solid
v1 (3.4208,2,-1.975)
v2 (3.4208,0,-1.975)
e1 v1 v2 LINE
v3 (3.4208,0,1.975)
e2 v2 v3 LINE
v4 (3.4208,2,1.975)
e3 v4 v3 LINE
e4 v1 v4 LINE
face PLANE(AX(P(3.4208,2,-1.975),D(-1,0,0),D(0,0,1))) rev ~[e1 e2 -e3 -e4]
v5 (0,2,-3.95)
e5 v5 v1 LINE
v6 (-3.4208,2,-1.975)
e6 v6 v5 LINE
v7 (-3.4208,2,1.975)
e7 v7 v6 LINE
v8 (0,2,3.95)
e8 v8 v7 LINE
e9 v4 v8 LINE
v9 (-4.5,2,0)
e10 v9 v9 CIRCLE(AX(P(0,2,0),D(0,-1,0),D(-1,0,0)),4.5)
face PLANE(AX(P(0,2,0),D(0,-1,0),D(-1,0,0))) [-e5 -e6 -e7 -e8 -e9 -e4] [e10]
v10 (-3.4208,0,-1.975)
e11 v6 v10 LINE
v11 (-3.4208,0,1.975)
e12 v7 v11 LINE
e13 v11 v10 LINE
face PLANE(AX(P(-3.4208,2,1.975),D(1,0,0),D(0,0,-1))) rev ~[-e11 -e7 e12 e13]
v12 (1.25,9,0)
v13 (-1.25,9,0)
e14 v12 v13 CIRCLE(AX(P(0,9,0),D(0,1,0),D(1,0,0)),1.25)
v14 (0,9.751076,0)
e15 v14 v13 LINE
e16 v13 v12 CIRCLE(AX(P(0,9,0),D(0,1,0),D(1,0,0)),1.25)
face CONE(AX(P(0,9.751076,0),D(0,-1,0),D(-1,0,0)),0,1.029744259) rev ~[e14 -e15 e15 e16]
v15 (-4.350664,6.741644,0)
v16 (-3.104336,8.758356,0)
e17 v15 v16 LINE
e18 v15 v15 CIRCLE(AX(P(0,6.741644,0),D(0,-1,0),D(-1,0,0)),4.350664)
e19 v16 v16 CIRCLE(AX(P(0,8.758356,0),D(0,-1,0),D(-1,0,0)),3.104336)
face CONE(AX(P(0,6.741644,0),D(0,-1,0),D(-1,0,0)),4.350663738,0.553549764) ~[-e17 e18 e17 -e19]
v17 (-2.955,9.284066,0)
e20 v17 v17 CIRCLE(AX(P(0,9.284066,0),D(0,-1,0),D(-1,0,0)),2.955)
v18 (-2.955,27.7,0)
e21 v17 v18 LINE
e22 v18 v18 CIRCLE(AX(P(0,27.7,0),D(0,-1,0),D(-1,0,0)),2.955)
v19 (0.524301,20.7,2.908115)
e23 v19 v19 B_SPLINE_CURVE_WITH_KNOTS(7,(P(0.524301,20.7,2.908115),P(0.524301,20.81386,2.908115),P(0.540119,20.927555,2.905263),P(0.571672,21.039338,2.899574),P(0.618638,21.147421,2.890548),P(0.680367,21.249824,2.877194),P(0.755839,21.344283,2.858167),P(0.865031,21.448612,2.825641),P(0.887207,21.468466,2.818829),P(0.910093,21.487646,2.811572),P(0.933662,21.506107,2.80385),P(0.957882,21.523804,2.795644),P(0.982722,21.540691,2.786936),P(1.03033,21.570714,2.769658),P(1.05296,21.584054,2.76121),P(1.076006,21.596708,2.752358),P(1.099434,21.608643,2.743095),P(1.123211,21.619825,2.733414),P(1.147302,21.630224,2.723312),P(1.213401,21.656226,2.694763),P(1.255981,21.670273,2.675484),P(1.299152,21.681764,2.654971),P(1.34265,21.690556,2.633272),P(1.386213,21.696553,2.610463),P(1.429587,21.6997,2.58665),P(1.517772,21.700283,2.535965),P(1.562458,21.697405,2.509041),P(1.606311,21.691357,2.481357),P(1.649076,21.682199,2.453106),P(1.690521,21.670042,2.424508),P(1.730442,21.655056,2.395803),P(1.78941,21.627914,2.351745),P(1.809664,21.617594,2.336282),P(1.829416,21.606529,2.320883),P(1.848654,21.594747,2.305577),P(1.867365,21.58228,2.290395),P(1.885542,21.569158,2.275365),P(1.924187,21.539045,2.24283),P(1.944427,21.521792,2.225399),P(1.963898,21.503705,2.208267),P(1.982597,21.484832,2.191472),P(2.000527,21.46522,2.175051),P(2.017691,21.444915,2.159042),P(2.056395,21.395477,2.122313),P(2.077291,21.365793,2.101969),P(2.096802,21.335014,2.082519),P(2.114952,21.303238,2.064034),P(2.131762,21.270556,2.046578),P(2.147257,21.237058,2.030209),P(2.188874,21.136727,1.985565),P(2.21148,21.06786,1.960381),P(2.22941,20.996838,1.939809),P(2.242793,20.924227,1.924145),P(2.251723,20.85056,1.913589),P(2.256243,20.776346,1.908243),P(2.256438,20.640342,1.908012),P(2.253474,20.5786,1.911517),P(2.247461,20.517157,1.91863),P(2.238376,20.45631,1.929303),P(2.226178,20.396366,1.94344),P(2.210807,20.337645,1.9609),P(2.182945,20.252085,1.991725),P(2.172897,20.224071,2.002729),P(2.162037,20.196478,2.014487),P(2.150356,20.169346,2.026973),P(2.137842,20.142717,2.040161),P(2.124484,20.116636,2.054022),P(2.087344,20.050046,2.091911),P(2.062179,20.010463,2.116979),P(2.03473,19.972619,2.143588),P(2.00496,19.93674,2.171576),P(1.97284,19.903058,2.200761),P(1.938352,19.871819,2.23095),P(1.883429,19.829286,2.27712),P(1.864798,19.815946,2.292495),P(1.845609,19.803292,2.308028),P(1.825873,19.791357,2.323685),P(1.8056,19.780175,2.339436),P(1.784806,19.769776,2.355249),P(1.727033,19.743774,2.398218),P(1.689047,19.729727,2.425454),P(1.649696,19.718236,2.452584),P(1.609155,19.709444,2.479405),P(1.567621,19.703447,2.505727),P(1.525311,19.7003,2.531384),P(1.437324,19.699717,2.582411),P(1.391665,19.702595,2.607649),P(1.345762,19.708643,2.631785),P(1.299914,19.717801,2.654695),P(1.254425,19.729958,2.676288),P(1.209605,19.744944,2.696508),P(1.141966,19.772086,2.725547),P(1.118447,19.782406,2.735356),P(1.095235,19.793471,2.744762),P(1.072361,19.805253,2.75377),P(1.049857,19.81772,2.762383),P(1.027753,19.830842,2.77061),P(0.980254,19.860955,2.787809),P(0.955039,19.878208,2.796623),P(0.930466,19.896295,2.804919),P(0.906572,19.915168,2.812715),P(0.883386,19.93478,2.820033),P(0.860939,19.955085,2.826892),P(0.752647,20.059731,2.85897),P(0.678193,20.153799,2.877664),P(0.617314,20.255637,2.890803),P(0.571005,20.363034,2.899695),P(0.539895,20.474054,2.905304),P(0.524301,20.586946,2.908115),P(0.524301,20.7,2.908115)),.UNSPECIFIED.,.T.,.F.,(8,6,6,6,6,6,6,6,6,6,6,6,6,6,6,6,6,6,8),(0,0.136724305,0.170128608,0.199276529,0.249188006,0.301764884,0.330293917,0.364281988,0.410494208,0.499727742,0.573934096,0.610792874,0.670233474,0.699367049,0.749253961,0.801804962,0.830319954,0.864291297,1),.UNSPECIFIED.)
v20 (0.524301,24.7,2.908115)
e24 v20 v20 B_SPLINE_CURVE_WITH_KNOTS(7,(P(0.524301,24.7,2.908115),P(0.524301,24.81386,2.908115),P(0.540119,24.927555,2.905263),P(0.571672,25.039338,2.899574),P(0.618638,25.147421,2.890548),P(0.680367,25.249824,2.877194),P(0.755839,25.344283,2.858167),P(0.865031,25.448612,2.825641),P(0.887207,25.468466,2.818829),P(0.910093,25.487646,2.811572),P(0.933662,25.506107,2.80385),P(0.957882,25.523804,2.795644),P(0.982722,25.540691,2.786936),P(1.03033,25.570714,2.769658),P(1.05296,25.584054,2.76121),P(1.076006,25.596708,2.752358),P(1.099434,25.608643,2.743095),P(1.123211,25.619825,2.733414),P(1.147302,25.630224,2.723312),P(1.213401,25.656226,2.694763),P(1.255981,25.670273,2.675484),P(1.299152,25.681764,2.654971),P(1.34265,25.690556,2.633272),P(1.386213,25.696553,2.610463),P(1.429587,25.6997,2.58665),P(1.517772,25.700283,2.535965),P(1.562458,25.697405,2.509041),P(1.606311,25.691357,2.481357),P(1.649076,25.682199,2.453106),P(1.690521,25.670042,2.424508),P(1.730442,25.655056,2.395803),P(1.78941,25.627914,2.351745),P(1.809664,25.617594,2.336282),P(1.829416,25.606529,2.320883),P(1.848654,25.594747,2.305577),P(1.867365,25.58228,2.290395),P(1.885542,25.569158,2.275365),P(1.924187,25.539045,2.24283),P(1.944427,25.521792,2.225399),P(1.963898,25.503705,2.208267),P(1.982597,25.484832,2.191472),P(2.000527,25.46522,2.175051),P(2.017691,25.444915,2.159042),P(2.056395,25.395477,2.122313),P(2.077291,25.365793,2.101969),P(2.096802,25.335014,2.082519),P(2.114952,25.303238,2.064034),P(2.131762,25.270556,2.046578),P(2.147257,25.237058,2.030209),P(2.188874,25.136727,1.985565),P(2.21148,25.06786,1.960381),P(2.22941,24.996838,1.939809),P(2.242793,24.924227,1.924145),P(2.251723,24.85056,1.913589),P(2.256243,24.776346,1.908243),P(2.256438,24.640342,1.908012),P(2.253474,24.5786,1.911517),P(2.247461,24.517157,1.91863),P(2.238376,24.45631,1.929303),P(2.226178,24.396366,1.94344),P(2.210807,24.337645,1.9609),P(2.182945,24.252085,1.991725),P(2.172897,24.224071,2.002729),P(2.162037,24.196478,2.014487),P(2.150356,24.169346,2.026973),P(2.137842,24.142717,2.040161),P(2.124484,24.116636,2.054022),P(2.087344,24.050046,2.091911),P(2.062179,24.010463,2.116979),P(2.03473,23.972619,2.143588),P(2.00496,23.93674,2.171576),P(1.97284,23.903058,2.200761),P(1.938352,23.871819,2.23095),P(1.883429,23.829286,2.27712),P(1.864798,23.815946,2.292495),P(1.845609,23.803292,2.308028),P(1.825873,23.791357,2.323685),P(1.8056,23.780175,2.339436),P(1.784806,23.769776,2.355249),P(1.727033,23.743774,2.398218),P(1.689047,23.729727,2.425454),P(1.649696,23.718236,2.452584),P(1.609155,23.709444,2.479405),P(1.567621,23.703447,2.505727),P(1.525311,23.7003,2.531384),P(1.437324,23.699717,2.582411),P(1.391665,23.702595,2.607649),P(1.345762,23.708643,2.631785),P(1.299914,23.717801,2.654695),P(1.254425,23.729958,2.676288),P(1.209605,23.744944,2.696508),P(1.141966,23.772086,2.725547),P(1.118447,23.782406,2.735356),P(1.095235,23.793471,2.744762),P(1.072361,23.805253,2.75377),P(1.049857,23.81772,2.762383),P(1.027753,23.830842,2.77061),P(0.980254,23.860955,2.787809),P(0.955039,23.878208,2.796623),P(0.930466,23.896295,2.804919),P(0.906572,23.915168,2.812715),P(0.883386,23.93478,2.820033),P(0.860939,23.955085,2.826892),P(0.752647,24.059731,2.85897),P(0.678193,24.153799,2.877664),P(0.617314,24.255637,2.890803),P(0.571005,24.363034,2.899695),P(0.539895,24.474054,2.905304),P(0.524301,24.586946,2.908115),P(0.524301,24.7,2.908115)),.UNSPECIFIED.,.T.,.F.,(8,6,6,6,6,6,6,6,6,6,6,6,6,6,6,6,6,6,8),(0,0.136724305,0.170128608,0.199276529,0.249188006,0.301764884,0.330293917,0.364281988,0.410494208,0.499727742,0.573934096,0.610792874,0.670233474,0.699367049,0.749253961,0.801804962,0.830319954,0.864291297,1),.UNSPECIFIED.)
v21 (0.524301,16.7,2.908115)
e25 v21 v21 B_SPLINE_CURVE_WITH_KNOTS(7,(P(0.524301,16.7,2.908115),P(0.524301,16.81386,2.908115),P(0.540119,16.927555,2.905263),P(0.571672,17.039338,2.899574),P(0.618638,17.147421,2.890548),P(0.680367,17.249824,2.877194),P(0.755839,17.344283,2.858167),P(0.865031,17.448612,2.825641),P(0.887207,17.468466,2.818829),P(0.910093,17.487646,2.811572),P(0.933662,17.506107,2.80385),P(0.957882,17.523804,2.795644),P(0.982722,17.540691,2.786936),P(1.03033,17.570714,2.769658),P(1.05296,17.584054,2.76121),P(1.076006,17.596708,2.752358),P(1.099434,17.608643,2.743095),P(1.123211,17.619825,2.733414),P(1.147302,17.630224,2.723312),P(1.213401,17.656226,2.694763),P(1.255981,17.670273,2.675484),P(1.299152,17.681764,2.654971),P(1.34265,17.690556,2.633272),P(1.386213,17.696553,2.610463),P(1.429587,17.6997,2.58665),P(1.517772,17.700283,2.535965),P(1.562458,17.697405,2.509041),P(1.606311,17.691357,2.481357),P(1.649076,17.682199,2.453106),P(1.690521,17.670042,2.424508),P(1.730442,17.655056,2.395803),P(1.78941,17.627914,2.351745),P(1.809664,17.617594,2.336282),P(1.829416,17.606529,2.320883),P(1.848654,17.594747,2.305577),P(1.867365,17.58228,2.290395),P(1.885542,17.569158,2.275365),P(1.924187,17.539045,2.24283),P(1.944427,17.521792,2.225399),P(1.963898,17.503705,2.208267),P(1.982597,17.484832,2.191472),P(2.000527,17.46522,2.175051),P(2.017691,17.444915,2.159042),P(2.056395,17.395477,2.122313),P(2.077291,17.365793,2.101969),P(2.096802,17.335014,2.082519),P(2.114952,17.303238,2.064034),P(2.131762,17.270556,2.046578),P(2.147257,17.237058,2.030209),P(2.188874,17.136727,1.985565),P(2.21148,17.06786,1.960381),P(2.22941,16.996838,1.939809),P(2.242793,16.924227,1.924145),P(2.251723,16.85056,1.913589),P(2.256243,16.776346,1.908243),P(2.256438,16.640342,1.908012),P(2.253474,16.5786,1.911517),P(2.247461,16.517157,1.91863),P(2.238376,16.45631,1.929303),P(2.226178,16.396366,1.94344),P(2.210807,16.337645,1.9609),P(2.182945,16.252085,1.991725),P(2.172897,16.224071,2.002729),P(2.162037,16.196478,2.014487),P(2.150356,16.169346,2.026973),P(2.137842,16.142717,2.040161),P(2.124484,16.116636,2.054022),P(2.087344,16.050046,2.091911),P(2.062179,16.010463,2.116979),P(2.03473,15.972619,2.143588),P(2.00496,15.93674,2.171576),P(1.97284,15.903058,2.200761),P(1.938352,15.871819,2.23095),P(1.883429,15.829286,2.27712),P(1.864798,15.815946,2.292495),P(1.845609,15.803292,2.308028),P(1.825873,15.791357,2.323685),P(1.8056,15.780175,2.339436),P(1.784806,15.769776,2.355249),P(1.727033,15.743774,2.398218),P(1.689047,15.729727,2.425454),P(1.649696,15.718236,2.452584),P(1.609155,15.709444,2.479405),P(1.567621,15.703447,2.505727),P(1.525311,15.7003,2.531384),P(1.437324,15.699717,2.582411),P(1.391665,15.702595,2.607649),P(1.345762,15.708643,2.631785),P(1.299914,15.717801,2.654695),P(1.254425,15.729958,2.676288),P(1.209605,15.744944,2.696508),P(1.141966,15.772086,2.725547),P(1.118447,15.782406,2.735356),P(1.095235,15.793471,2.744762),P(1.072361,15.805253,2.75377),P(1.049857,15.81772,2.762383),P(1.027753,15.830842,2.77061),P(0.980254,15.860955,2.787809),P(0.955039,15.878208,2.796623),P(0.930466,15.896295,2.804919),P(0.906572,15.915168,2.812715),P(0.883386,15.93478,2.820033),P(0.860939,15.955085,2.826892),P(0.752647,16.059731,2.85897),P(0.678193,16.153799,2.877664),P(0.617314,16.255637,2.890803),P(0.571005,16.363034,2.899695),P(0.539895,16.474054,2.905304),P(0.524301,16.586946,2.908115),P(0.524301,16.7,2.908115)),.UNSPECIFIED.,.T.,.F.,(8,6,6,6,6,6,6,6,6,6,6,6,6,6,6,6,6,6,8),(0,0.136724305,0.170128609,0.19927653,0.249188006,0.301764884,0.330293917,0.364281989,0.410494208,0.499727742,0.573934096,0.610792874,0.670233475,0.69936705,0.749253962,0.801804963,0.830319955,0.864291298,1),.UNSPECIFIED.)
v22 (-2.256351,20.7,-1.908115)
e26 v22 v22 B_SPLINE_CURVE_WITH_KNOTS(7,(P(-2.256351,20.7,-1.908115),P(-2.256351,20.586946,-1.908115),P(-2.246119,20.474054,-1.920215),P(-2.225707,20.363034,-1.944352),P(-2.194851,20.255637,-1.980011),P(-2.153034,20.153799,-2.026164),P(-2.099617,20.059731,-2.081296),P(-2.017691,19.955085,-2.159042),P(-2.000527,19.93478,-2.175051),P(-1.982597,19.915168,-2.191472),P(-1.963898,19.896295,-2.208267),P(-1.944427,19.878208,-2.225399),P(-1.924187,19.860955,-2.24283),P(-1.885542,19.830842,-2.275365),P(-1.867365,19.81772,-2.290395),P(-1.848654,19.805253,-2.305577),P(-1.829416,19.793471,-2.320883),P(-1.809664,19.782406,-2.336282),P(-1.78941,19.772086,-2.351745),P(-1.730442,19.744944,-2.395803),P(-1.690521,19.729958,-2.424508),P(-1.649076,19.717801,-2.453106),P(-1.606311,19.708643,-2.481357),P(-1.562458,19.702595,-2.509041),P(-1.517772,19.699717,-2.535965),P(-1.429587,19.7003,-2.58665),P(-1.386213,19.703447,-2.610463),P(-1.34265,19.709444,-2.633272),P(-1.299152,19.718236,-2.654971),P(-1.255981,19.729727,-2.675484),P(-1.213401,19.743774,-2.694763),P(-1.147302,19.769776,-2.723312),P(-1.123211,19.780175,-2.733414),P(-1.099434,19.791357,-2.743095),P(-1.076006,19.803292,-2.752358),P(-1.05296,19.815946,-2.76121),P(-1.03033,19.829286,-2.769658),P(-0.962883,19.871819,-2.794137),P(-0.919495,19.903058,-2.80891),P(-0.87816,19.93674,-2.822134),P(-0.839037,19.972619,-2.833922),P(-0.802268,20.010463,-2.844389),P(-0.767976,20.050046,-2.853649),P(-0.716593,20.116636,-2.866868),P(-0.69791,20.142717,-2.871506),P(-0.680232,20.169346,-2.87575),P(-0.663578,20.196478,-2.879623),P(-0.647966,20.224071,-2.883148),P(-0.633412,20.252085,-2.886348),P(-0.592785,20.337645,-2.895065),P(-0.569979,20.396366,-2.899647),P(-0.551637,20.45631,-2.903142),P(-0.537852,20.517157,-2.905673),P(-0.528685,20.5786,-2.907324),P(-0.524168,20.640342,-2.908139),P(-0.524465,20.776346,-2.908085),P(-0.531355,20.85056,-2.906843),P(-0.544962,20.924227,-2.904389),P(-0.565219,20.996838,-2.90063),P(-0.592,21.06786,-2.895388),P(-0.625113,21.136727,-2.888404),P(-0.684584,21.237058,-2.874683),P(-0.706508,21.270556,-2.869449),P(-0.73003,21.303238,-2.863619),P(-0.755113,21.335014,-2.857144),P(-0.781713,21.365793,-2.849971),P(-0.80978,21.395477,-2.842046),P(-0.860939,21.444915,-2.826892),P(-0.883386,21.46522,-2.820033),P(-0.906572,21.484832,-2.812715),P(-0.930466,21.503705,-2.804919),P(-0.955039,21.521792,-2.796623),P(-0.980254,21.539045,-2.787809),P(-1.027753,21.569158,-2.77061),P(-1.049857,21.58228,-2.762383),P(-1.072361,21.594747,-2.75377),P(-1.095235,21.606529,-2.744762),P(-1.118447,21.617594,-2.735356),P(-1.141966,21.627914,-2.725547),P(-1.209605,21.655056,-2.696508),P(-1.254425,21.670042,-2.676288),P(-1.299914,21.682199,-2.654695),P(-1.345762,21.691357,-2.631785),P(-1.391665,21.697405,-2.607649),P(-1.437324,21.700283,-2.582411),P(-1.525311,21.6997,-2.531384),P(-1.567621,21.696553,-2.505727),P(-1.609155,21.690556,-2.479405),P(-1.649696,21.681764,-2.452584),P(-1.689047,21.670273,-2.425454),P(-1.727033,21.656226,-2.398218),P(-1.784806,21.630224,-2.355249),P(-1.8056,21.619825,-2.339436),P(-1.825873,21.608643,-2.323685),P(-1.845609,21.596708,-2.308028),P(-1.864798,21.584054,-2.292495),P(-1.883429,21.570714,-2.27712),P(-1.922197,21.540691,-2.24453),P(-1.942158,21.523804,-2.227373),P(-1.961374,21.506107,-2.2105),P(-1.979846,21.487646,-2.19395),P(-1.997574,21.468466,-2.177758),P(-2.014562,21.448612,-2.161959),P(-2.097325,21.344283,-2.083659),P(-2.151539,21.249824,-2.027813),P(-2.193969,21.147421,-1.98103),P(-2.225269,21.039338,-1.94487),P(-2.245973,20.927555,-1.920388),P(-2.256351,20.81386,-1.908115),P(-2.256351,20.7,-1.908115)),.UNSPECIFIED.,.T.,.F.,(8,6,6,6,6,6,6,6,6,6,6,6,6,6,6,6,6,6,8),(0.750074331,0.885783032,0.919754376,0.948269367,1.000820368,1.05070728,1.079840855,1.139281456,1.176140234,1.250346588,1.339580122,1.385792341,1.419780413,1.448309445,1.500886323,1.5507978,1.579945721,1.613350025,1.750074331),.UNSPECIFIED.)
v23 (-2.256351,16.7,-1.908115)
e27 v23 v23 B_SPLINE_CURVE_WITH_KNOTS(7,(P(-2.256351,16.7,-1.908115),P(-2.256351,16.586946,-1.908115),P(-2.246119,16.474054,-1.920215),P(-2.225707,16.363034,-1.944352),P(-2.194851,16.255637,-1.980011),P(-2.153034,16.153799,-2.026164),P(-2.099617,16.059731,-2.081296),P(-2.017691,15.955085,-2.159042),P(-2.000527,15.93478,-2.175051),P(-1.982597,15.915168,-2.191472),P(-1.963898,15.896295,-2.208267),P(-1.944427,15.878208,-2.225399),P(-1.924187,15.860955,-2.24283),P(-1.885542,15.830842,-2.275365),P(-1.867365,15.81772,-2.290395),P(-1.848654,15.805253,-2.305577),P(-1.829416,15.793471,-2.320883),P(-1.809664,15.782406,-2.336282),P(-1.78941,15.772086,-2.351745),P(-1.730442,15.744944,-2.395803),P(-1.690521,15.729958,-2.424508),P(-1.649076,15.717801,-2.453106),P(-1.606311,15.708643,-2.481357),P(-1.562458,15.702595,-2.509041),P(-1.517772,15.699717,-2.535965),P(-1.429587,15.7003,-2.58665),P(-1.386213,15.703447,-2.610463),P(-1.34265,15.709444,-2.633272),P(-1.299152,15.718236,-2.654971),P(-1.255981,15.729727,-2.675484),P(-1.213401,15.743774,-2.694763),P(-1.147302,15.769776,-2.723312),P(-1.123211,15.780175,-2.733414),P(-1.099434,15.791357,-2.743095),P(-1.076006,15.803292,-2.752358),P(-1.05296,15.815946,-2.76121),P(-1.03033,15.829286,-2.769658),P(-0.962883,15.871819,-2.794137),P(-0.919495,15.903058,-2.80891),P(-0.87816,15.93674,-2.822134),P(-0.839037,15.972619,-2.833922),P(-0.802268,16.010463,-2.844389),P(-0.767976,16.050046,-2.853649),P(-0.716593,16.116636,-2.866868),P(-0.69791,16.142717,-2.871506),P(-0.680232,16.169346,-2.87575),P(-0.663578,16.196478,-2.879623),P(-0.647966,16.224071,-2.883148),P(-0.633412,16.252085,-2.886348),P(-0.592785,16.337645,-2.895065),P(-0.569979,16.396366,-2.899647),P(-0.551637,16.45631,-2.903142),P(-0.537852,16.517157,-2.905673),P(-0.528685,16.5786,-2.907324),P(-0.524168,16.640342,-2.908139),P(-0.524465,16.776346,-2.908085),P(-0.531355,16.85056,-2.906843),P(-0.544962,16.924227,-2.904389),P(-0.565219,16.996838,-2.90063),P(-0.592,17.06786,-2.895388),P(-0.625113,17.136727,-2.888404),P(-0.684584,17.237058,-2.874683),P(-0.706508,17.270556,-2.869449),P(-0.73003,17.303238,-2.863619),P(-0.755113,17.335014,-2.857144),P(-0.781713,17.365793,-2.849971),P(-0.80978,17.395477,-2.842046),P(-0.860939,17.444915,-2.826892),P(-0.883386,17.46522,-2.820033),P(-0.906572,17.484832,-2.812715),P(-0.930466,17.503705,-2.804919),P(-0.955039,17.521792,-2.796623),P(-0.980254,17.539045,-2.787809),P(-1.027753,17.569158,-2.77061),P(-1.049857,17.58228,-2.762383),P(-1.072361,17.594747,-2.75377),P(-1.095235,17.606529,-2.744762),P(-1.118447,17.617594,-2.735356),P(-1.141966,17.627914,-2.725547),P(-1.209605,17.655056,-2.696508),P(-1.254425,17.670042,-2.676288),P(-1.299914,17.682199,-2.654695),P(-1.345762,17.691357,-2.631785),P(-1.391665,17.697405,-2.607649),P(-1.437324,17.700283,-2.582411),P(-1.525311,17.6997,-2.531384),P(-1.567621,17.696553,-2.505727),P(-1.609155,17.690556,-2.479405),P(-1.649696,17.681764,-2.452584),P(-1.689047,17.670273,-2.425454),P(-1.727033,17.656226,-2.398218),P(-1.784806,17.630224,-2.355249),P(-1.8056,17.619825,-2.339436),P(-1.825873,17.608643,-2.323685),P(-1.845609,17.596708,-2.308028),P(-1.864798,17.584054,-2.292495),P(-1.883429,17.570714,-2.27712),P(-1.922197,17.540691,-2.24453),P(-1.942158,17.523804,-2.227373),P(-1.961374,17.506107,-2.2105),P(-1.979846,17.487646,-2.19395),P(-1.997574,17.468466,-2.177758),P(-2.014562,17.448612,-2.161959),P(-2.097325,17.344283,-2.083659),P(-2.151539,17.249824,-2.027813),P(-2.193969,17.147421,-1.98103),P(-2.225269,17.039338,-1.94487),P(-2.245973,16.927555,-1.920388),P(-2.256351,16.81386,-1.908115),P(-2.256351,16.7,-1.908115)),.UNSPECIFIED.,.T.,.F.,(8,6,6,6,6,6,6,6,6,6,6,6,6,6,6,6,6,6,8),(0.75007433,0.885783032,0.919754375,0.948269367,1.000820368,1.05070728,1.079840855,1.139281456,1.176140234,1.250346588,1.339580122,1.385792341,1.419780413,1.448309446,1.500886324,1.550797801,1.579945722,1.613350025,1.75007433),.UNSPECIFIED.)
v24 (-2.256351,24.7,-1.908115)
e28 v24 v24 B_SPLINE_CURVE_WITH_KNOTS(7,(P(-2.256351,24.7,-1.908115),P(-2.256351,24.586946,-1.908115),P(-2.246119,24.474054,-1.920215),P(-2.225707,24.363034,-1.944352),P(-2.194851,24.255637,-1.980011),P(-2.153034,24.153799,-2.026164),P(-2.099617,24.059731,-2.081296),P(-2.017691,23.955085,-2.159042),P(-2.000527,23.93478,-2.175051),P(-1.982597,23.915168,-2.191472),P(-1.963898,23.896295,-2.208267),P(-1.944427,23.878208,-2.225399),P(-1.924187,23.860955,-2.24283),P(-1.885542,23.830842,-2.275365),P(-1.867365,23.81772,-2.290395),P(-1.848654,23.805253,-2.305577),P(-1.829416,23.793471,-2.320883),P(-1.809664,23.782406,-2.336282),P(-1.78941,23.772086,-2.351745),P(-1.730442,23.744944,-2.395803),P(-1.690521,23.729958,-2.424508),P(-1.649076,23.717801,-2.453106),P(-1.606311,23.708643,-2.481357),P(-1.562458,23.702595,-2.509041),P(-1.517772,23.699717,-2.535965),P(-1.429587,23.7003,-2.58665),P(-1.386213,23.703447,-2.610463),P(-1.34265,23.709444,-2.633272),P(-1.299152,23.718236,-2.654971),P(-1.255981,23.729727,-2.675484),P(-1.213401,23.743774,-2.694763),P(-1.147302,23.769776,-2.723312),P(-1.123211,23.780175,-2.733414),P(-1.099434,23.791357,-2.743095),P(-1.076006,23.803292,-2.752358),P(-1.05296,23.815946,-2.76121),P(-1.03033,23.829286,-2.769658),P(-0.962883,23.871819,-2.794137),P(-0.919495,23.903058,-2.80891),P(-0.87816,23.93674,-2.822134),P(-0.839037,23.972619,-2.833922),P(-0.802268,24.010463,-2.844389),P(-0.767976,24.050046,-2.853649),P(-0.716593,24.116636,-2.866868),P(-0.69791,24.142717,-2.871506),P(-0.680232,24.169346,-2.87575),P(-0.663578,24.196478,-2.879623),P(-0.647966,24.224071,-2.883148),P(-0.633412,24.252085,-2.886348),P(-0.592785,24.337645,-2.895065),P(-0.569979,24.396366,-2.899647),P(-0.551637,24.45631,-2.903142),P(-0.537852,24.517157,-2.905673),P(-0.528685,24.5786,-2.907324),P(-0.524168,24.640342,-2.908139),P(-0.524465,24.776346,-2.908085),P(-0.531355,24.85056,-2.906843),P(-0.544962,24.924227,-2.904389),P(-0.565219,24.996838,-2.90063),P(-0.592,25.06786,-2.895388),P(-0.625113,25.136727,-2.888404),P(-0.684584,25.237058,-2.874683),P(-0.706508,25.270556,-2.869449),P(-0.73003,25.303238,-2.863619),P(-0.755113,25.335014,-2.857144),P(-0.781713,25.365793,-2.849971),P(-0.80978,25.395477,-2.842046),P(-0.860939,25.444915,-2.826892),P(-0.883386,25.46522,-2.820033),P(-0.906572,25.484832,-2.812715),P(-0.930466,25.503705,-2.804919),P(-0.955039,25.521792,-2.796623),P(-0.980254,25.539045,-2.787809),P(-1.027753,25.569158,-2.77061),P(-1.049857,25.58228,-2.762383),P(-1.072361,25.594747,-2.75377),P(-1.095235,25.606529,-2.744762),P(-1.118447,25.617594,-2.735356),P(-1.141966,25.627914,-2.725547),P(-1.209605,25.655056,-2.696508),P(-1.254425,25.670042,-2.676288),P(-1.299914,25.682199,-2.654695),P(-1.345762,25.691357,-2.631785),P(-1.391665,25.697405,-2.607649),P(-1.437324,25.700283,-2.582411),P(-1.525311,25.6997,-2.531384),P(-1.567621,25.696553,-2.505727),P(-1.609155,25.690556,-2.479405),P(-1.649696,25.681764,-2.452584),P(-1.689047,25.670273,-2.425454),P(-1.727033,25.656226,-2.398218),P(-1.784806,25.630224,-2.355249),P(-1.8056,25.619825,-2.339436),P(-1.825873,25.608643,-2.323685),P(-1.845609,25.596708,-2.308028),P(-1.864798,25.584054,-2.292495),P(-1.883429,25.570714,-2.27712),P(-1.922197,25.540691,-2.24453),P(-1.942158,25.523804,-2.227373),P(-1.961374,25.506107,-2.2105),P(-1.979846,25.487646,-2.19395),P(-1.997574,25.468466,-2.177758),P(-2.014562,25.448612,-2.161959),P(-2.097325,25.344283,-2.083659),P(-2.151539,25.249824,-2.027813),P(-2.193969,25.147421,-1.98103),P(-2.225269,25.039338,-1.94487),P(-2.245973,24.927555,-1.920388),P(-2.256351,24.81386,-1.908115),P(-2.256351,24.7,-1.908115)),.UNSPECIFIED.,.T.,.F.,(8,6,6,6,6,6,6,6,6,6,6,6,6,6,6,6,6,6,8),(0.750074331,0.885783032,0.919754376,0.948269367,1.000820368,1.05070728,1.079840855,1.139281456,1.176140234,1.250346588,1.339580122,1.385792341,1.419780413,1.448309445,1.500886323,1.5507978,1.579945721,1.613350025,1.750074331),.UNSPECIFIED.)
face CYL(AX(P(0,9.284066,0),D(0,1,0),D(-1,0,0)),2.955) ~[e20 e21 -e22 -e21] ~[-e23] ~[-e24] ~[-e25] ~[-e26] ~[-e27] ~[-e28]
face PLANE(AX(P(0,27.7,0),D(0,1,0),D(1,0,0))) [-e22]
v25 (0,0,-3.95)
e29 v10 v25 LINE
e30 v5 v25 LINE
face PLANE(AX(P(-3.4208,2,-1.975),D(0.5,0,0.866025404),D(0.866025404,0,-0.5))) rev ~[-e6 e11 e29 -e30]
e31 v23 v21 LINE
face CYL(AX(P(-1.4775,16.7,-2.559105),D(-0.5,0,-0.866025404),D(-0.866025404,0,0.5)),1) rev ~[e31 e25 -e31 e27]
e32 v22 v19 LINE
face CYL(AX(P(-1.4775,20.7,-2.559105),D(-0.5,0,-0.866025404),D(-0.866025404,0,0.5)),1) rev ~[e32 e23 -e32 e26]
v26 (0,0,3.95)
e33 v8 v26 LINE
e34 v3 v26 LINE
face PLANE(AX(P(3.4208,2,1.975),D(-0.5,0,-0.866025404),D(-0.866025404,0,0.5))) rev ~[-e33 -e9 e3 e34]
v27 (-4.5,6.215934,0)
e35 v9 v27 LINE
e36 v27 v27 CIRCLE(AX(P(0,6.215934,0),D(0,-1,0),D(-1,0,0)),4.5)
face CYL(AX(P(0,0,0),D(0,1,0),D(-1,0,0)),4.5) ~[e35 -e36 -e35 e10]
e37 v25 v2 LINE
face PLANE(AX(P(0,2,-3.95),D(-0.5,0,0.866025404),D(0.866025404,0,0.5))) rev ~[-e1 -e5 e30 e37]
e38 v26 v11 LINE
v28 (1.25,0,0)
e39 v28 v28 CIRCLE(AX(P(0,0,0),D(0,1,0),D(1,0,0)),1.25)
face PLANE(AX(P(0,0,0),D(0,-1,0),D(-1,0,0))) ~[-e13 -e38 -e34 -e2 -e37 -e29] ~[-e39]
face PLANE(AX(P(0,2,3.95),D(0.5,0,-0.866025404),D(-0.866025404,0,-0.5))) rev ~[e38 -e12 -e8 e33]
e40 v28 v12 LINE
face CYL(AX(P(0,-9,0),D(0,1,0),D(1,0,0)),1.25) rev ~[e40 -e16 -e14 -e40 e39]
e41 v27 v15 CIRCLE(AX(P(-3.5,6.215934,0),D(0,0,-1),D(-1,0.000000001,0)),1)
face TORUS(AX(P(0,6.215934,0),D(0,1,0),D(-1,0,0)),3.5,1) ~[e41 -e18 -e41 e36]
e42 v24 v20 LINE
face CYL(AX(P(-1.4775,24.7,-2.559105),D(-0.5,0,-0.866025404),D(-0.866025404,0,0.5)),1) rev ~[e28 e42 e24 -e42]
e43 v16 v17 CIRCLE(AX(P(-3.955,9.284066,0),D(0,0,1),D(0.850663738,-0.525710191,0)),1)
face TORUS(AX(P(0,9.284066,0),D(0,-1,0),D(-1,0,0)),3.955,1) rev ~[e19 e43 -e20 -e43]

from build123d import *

# Parameters (mm, degrees)
TAGLIO_ESTRUSIONE1_START      = -2
SCHIZZO2_R                    = 4.5
TAGLIO_ESTRUSIONE1_DEPTH      = 2
FORO_FILETTATO_M3X0_5_1_D     = 2.5
FORO_FILETTATO_M3X0_5_1_DEPTH = 9
FORO_FILETTATO_M3X0_5_1_TIP   = 0.751075774
SCHIZZO5_R                    = 1
TAGLIO_ESTRUSIONE2_DEPTH      = 34.021984674


with BuildPart() as part:
    # Schizzo1 → Rivoluzione1 (revolve)
    with BuildSketch(Plane.XY, mode=Mode.PRIVATE) as rivoluzione1_sk:
        with BuildLine():
            Line((0, 0), (4.5, 0))
            Line((4.5, 0), (4.5, 6.215934246))
            ThreePointArc((4.5, 6.215934246), (4.461941718, 6.489188945), (4.350663738, 6.741644436))
            Line((4.350663738, 6.741644436), (3.104336262, 8.758355564))
            ThreePointArc((3.104336262, 8.758355564), (2.993058282, 9.010811055), (2.955, 9.284065754))
            Line((2.955, 9.284065754), (2.955, 31.7))
            Line((2.955, 31.7), (0, 31.7))
            Line((0, 31.7), (0, 0))
        make_face()
    revolve(rivoluzione1_sk.sketch.rotate(Axis((0, 31.7, 0), (0, -1, 0)), 180), axis=Axis((0, 31.7, 0), (0, -1, 0)))

    # Schizzo2 → Taglio-Estrusione1 (cut)
    with BuildSketch(Plane.XZ.offset(TAGLIO_ESTRUSIONE1_START)):
        with Locations(Location((0, 0, 0), (0, 0, 180))):
            Circle(SCHIZZO2_R)
        Polygon((0, 3.95), (-3.420800345, 1.975), (-3.420800345, -1.975), (0, -3.95), (3.420800345, -1.975), (3.420800345, 1.975), align=None, mode=Mode.SUBTRACT)
    extrude(amount=TAGLIO_ESTRUSIONE1_DEPTH, mode=Mode.SUBTRACT)

    # Foro filettato M3x0.5-1
    with Locations(Plane(origin=(0, 0, 0), x_dir=(-1, 0, 0), z_dir=(0, -1, 0))):
        with Locations((0, 0)):
            Hole(FORO_FILETTATO_M3X0_5_1_D / 2, depth=FORO_FILETTATO_M3X0_5_1_DEPTH)
            with Locations((0, 0, -(FORO_FILETTATO_M3X0_5_1_DEPTH + FORO_FILETTATO_M3X0_5_1_TIP / 2))):  # 118° drill point
                Cone(0, FORO_FILETTATO_M3X0_5_1_D / 2, FORO_FILETTATO_M3X0_5_1_TIP, mode=Mode.SUBTRACT)

    # Schizzo5 → Taglio-Estrusione2 (cut, through all)
    with BuildSketch(Plane(origin=(-1.4775, 0, -2.559105068), x_dir=(-0.8660254037844385, 0, 0.5000000000000004), z_dir=(-0.5000000000000003, 0, -0.8660254037844384))):
        with Locations((0, 16.7)):
            Circle(SCHIZZO5_R)
        with Locations((0, 20.7)):
            Circle(SCHIZZO5_R)
        with Locations((0, 24.7)):
            Circle(SCHIZZO5_R)
        with Locations((0, 28.7)):
            Circle(SCHIZZO5_R)
    extrude(amount=-TAGLIO_ESTRUSIONE2_DEPTH, mode=Mode.SUBTRACT)

    # TaglioSuperficie1
    split(bisect_by=Plane(origin=(0, 27.7, 0), x_dir=(1, 0, 0), z_dir=(0, 1, 0)), keep=Keep.BOTTOM)


solid = part.part
